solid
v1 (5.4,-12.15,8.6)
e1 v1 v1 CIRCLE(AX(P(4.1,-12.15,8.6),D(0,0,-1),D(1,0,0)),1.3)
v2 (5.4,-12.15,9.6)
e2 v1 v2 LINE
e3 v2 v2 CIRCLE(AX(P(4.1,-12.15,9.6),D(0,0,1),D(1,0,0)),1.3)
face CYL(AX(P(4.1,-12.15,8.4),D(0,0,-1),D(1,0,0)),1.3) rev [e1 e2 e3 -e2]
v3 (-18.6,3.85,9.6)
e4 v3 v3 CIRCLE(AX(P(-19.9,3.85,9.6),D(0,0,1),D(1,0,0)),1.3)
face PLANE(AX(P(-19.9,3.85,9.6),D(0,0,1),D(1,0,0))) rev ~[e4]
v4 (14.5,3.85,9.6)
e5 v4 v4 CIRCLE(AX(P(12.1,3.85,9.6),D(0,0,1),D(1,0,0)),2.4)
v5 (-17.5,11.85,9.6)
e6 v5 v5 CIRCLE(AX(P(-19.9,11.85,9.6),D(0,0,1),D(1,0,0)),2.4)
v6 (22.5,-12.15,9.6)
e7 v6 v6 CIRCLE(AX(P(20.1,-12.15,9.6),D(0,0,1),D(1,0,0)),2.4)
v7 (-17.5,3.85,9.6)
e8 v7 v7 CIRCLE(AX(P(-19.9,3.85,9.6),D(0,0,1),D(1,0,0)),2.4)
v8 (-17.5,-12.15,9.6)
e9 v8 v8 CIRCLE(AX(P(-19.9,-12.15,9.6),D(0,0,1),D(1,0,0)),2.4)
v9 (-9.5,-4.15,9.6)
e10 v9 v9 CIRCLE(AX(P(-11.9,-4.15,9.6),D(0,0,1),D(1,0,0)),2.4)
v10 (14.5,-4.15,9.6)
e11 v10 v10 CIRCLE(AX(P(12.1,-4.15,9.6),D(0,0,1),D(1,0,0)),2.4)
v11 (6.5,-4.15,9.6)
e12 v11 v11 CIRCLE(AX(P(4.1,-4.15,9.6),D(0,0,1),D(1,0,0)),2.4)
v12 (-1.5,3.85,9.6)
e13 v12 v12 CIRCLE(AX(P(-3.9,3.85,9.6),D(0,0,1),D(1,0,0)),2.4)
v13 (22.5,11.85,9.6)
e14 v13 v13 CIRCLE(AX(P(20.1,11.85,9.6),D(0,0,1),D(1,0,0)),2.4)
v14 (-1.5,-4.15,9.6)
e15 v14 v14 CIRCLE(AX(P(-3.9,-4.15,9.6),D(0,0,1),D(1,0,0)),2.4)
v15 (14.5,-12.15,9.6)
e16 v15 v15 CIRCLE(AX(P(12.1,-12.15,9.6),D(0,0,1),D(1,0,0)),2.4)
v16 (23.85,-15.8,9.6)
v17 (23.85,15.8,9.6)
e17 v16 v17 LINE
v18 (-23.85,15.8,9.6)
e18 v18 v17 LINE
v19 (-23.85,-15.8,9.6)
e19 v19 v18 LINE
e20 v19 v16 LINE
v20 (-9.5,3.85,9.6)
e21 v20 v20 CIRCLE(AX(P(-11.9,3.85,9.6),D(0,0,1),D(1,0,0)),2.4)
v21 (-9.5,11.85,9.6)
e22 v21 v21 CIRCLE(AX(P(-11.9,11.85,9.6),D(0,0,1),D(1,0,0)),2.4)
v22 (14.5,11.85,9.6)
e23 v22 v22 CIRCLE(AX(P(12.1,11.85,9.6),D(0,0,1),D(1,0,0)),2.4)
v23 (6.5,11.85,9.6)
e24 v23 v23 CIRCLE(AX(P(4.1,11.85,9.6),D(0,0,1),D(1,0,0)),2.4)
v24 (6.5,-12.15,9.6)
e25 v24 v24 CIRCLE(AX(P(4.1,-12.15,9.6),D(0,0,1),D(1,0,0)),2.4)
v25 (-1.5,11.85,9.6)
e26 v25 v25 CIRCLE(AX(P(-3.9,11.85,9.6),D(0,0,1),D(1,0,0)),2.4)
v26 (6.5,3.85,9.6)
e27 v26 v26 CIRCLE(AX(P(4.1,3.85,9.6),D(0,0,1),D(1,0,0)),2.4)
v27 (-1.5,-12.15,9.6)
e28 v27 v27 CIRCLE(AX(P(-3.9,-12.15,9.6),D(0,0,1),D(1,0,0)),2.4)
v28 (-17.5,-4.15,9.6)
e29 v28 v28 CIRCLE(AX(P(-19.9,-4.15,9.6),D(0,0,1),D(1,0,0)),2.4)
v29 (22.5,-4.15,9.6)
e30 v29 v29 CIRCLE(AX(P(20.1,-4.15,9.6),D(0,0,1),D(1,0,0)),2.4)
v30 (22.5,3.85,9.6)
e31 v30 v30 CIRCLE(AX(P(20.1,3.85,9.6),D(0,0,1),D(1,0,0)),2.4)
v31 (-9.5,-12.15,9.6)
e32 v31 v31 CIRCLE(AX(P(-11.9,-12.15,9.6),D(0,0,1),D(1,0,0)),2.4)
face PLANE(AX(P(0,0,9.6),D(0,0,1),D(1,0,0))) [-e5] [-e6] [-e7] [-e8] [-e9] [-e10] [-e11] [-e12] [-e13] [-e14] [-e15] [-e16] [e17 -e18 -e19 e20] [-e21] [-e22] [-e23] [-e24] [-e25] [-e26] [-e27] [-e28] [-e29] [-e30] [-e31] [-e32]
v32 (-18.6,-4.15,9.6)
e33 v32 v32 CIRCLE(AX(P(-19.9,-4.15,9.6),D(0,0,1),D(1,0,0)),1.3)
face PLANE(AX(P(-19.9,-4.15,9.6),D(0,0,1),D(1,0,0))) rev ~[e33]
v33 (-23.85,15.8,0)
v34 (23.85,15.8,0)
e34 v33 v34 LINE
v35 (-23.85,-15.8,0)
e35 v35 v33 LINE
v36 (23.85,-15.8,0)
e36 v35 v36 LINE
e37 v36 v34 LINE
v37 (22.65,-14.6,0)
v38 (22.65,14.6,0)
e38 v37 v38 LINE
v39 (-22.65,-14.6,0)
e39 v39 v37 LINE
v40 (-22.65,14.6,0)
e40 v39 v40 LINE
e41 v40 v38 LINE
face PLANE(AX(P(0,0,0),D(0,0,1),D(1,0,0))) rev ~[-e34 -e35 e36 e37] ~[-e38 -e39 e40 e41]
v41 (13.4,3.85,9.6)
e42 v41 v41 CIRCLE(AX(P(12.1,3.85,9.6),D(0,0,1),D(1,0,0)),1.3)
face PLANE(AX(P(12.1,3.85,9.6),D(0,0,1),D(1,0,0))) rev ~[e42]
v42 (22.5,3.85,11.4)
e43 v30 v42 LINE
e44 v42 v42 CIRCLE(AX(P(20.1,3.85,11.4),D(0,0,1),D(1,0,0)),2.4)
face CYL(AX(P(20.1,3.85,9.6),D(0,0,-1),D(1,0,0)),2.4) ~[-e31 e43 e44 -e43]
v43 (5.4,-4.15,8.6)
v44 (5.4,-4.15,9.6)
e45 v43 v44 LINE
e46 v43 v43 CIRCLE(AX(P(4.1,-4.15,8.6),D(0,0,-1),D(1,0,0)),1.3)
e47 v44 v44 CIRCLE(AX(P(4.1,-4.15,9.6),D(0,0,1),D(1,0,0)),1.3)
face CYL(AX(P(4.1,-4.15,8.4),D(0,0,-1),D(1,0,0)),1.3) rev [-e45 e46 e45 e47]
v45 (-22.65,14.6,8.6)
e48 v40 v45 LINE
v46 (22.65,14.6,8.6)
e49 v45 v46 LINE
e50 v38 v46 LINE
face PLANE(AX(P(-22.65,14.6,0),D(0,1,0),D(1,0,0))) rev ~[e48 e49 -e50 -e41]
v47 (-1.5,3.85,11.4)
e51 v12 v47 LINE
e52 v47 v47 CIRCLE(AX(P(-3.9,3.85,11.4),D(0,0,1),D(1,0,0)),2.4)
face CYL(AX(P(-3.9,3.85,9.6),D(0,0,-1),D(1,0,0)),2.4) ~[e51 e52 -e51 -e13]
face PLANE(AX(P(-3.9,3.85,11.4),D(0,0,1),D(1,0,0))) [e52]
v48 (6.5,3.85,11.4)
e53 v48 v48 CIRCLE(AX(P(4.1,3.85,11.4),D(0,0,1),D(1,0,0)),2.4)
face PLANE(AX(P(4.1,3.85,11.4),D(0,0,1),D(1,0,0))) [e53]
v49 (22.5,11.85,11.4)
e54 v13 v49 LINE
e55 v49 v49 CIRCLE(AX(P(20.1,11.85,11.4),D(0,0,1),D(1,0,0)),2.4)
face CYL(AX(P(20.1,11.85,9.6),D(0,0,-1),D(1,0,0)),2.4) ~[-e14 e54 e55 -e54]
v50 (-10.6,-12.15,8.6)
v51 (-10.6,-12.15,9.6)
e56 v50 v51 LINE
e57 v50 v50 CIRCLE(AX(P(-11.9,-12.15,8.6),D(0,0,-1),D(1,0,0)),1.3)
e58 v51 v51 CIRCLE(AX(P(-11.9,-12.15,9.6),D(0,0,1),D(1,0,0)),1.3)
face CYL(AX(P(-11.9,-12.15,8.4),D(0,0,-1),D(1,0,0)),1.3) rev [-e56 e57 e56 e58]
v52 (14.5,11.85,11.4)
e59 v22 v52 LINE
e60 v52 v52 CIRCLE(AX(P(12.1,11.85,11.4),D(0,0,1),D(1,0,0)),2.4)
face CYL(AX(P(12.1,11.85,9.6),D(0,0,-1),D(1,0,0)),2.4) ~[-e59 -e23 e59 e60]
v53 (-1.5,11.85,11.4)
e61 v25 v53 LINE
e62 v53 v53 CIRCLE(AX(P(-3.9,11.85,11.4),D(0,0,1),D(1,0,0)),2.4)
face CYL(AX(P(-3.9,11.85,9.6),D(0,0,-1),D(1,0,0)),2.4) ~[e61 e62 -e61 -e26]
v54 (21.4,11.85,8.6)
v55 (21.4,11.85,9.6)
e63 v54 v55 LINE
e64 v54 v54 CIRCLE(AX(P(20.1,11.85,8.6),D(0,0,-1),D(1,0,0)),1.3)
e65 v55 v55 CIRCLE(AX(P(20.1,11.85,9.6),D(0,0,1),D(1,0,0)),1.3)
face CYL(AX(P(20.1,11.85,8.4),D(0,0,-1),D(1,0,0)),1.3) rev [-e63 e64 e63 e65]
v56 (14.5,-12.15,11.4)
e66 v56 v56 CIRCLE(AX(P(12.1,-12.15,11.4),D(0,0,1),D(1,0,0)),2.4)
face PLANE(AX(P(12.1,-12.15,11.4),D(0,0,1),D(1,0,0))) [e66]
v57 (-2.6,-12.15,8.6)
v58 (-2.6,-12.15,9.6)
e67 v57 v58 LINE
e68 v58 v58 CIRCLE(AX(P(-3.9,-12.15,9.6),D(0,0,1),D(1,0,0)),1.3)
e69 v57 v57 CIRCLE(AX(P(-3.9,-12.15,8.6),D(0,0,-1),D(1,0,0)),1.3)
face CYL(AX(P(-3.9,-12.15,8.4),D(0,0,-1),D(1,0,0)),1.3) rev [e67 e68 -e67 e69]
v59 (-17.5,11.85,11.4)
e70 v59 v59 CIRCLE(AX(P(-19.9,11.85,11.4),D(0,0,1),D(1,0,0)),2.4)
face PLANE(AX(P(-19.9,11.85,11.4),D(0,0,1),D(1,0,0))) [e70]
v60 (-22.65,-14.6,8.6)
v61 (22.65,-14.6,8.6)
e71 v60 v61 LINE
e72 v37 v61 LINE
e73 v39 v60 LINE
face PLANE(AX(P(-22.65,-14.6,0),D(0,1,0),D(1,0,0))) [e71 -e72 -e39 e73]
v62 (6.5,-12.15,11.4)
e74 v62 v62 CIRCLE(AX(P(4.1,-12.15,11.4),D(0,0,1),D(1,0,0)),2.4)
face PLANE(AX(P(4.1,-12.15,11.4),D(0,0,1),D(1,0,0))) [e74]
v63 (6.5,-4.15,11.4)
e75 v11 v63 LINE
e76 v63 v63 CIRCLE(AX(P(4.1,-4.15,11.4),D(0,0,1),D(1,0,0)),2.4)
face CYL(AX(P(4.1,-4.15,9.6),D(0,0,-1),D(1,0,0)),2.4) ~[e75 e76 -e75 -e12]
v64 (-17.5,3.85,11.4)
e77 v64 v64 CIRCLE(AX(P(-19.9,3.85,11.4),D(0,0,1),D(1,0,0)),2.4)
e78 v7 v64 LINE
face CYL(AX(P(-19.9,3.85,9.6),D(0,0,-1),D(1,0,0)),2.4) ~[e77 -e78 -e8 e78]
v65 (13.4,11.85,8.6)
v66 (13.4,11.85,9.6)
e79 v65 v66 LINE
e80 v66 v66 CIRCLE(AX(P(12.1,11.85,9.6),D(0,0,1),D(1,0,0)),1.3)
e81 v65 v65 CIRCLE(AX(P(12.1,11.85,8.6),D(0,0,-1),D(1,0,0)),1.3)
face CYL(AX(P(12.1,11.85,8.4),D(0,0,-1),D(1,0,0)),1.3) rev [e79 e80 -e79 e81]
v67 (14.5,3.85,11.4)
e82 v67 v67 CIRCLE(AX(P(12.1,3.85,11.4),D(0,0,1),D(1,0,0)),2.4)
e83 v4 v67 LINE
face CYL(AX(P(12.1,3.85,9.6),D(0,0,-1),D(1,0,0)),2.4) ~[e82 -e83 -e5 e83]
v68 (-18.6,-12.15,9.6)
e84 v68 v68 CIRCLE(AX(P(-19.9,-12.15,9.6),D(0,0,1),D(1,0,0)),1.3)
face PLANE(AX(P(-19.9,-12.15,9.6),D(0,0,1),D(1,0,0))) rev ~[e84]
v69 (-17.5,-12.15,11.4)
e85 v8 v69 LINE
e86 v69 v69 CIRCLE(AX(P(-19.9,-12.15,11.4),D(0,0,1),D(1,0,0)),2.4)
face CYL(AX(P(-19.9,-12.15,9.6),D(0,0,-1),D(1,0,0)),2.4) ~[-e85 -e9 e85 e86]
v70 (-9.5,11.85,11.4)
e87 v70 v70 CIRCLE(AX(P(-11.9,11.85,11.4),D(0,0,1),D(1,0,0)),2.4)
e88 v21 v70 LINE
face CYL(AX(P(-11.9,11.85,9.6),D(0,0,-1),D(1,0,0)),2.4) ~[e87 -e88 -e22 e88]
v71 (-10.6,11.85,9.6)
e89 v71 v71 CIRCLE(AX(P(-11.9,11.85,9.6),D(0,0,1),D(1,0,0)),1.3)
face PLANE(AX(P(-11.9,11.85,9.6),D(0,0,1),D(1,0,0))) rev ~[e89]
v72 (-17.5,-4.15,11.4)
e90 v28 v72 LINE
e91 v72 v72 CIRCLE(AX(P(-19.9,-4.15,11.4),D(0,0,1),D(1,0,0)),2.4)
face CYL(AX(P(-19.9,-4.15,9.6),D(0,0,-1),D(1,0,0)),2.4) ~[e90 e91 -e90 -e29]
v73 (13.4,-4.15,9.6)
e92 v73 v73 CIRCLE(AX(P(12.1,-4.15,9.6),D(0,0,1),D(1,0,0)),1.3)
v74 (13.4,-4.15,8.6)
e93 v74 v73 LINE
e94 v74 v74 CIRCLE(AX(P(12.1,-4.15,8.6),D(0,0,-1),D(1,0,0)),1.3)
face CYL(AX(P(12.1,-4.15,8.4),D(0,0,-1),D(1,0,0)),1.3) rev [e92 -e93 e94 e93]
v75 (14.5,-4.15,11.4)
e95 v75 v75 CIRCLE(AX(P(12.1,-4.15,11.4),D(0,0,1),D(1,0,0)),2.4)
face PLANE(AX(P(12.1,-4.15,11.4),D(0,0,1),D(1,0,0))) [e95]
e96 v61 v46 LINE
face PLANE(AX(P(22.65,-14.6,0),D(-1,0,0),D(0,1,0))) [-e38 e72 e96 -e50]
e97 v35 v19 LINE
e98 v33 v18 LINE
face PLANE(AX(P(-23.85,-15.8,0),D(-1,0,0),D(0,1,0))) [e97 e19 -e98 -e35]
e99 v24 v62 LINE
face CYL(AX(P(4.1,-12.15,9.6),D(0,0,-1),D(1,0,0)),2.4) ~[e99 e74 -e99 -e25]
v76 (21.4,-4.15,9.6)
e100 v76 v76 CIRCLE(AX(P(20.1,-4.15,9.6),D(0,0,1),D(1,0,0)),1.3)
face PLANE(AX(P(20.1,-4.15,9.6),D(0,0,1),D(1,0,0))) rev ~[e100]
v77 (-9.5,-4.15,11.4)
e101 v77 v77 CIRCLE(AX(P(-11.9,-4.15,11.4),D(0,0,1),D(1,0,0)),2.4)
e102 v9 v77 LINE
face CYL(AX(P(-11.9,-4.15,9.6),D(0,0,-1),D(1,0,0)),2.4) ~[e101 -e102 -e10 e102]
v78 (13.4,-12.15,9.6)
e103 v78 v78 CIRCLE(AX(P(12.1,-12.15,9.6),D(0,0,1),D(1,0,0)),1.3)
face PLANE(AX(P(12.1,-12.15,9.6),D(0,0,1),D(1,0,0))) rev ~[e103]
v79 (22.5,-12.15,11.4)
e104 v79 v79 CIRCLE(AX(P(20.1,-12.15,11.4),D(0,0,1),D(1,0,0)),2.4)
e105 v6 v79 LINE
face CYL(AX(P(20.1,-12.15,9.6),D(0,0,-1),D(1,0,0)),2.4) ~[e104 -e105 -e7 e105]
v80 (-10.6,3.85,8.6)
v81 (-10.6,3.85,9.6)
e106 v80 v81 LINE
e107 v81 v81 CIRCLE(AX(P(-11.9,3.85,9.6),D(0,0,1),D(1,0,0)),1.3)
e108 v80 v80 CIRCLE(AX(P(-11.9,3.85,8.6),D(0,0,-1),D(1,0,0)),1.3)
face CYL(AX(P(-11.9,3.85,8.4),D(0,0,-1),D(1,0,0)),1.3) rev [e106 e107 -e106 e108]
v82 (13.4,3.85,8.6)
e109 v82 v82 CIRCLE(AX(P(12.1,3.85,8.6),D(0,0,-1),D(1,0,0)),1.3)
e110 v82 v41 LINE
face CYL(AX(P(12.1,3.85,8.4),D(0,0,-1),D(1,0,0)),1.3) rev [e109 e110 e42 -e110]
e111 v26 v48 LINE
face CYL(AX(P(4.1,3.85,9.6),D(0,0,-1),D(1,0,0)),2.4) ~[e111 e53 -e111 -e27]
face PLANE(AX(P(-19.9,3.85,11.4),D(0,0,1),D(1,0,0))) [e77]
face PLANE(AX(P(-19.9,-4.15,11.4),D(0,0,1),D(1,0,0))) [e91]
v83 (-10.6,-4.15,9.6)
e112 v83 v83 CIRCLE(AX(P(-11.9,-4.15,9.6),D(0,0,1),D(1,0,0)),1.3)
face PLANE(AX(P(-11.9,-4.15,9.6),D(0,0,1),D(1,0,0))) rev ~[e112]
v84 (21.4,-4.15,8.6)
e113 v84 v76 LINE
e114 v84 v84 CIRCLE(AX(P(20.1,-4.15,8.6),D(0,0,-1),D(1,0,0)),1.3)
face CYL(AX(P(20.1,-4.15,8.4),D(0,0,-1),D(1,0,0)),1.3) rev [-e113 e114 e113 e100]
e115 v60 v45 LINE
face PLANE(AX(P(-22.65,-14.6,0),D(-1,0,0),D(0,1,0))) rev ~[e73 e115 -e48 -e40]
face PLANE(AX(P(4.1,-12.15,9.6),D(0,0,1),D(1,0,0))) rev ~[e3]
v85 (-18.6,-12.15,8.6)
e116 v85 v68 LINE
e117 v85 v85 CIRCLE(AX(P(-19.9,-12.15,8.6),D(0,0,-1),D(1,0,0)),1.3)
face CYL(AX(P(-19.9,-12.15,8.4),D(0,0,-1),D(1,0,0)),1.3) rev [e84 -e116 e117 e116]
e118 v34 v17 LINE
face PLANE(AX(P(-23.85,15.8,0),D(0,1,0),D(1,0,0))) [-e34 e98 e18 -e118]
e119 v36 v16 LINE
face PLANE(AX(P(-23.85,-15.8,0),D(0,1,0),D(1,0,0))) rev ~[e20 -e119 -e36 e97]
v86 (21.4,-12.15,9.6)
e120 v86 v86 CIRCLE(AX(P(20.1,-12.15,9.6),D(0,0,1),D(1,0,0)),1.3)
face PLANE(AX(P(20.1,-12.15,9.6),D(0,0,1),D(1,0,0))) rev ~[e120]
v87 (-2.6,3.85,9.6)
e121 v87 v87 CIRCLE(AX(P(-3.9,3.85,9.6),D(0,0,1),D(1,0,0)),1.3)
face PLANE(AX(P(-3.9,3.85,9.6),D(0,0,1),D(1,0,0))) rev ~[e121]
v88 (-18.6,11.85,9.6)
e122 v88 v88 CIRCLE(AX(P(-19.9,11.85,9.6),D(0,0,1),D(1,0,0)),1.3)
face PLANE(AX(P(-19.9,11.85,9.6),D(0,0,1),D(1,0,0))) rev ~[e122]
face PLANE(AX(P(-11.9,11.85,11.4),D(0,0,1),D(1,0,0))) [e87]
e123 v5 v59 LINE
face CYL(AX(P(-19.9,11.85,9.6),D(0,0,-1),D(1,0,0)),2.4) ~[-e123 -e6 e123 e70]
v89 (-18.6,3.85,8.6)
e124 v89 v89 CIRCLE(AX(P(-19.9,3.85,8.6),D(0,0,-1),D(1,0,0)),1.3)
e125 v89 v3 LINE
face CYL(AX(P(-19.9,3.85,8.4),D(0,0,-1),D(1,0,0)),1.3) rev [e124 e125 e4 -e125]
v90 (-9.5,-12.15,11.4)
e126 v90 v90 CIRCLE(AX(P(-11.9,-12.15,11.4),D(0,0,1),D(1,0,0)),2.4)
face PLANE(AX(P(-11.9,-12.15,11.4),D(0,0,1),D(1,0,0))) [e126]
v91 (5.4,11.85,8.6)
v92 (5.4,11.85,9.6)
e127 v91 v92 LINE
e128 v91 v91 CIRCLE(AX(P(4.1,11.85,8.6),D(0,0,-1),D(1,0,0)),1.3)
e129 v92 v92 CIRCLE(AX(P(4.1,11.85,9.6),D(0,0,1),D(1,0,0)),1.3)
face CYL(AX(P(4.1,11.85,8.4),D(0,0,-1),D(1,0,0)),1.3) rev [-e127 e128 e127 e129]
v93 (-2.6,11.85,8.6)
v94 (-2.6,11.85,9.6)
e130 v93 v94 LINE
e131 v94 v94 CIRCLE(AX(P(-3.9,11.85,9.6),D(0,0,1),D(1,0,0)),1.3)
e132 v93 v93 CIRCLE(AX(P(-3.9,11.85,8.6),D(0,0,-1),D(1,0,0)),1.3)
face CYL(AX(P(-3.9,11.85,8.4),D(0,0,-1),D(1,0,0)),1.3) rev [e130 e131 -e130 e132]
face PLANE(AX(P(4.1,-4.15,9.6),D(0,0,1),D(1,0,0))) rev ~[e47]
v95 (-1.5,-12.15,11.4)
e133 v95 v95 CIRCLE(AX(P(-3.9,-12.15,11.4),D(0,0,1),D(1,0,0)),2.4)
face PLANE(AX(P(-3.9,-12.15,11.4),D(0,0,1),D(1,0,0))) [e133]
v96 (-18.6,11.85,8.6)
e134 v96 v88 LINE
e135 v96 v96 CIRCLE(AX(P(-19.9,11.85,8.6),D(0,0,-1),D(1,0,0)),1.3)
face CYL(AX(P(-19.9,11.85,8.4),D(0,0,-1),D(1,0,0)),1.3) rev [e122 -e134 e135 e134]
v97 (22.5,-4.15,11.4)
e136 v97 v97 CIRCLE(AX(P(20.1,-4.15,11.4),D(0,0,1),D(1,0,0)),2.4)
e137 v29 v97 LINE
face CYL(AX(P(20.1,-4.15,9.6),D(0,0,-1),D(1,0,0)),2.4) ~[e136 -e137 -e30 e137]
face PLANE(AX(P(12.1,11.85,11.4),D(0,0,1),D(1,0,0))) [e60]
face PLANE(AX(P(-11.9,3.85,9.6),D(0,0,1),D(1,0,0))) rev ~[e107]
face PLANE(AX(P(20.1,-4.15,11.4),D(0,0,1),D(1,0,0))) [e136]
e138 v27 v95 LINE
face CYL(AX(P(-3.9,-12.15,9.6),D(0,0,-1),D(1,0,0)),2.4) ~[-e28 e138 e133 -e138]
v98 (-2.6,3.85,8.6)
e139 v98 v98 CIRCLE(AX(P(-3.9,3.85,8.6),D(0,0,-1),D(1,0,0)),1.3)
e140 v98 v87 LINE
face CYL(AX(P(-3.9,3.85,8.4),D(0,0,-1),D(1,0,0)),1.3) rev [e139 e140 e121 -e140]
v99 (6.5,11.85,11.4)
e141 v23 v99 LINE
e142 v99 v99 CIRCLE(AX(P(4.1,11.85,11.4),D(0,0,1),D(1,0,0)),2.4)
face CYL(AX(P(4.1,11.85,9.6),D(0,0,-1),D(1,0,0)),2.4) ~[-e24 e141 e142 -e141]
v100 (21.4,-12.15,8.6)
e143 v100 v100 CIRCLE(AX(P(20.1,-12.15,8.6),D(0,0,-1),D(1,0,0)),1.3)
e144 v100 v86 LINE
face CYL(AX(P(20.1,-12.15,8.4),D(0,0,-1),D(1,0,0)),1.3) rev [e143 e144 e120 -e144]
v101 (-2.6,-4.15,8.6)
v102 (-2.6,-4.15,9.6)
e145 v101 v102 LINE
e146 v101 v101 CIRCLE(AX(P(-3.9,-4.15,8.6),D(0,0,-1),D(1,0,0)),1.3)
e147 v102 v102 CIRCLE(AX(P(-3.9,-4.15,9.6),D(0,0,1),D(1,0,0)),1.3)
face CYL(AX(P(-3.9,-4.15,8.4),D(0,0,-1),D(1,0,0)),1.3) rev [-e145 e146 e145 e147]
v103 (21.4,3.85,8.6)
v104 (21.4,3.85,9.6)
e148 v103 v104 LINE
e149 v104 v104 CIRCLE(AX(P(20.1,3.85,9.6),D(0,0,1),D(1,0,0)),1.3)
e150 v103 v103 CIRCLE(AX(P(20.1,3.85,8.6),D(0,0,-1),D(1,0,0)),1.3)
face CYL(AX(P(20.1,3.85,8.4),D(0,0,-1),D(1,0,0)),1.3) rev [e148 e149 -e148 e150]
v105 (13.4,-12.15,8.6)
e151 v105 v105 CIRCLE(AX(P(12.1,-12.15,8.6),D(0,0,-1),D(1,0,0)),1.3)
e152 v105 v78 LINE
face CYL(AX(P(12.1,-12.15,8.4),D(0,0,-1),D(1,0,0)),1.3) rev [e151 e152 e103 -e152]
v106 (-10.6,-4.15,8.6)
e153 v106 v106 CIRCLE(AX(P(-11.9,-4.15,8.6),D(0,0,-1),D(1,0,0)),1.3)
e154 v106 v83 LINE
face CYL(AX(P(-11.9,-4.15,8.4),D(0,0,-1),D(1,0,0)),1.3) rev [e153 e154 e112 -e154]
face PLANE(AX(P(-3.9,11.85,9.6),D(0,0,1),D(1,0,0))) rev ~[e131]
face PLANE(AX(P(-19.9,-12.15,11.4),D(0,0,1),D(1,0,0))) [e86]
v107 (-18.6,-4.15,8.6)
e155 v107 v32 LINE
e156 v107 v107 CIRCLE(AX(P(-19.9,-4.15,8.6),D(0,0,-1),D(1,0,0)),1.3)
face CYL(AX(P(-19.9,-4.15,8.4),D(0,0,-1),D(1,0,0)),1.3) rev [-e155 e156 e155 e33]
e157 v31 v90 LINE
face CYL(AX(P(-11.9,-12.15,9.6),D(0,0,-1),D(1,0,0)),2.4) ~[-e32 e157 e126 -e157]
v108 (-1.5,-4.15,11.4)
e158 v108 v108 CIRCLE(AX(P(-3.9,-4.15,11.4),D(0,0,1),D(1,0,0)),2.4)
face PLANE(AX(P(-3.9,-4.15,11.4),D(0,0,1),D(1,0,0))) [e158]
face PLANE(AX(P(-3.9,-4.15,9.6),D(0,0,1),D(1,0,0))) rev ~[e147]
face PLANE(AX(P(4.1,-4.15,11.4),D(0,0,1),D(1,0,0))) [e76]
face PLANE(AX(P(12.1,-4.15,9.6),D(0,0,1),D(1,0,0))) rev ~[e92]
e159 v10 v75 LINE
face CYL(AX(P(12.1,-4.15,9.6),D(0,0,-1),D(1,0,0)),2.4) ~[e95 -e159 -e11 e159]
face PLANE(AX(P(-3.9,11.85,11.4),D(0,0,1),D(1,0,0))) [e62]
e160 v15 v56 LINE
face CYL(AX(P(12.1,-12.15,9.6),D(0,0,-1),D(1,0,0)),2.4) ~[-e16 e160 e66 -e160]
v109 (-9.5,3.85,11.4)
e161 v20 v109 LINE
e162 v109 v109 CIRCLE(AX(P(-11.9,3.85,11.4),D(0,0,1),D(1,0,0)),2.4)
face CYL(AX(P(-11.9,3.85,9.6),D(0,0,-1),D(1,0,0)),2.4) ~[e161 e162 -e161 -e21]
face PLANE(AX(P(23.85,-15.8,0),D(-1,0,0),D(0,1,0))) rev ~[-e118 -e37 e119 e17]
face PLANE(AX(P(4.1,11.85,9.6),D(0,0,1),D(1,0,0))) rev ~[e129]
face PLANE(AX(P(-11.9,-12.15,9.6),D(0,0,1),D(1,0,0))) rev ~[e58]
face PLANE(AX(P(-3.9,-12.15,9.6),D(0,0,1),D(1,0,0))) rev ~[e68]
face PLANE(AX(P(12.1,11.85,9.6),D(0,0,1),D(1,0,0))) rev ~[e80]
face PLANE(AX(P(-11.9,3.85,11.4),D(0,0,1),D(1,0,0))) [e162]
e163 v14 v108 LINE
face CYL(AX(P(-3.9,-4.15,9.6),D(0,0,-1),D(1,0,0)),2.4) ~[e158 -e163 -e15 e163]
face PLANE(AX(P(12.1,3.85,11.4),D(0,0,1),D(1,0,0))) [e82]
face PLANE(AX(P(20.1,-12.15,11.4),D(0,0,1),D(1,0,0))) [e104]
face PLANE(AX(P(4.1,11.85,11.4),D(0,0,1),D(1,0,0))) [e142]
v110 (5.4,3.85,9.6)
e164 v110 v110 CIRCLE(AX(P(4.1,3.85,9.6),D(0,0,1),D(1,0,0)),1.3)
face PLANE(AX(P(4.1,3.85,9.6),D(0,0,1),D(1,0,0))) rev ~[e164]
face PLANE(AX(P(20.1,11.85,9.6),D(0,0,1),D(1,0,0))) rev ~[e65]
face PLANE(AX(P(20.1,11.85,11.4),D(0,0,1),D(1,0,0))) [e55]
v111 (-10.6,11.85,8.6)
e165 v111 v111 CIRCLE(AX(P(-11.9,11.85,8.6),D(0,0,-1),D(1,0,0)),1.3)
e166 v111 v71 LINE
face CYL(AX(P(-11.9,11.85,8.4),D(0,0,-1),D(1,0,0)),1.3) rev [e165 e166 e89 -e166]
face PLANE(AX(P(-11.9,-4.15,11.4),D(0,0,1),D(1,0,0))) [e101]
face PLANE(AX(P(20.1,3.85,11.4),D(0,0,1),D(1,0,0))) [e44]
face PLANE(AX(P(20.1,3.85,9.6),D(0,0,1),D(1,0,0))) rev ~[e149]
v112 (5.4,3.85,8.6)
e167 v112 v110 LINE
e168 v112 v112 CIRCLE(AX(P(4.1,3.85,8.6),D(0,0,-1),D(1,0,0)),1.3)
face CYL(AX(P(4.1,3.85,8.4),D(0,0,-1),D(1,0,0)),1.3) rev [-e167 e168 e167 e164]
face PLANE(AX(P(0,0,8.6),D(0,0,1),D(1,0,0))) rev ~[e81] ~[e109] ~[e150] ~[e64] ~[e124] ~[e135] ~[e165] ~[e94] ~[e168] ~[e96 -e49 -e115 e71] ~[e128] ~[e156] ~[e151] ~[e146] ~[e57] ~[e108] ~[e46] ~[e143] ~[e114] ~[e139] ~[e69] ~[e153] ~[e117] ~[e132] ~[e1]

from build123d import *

# Parameters (mm, degrees)
F0_W     = 47.7
F0_H     = 31.6
F1_DEPTH = 9.6
F2_W     = 45.3
F2_H     = 29.2
F3_DEPTH = 8.6
F4_R     = 2.4
F5_DEPTH = 1.8
F7_R     = 1.3
F8_DEPTH = 1.2


with BuildPart() as f1:
    # F0 (on Top) → F1 (new body)
    with BuildSketch(Plane.XY):
        Rectangle(F0_W, F0_H)
    extrude(amount=F1_DEPTH)

    # F2 (on face) → F3 (cut)
    with BuildSketch(Plane.XY):
        Rectangle(F2_W, F2_H)
    extrude(amount=F3_DEPTH, mode=Mode.SUBTRACT)

    # F4 (on face) → F5 (join)
    with BuildSketch(Plane.XY.offset(9.6)):
        with Locations((-19.9, 11.85)):
            Circle(F4_R)
        with Locations((-19.9, 3.85)):
            Circle(F4_R)
        with Locations((-19.9, -4.15)):
            Circle(F4_R)
        with Locations((-19.9, -12.15)):
            Circle(F4_R)
        with Locations((-11.9, 11.85)):
            Circle(F4_R)
        with Locations((-11.9, 3.85)):
            Circle(F4_R)
        with Locations((-11.9, -4.15)):
            Circle(F4_R)
        with Locations((-11.9, -12.15)):
            Circle(F4_R)
        with Locations((-3.9, 11.85)):
            Circle(F4_R)
        with Locations((-3.9, 3.85)):
            Circle(F4_R)
        with Locations((-3.9, -4.15)):
            Circle(F4_R)
        with Locations((-3.9, -12.15)):
            Circle(F4_R)
        with Locations((4.1, 11.85)):
            Circle(F4_R)
        with Locations((4.1, 3.85)):
            Circle(F4_R)
        with Locations((4.1, -4.15)):
            Circle(F4_R)
        with Locations((4.1, -12.15)):
            Circle(F4_R)
        with Locations((12.1, 11.85)):
            Circle(F4_R)
        with Locations((12.1, 3.85)):
            Circle(F4_R)
        with Locations((12.1, -4.15)):
            Circle(F4_R)
        with Locations((12.1, -12.15)):
            Circle(F4_R)
        with Locations((20.1, 11.85)):
            Circle(F4_R)
        with Locations((20.1, 3.85)):
            Circle(F4_R)
        with Locations((20.1, -4.15)):
            Circle(F4_R)
        with Locations((20.1, -12.15)):
            Circle(F4_R)
    extrude(amount=F5_DEPTH)

    # F7 (on offset) → F8 (cut)
    with BuildSketch(Plane.XY.offset(8.4)):
        with Locations((-19.9, -12.15)):
            Circle(F7_R)
        with Locations((-19.9, -4.15)):
            Circle(F7_R)
        with Locations((-19.9, 3.85)):
            Circle(F7_R)
        with Locations((-19.9, 11.85)):
            Circle(F7_R)
        with Locations((-11.9, -12.15)):
            Circle(F7_R)
        with Locations((-11.9, -4.15)):
            Circle(F7_R)
        with Locations((-11.9, 3.85)):
            Circle(F7_R)
        with Locations((-11.9, 11.85)):
            Circle(F7_R)
        with Locations((-3.9, -12.15)):
            Circle(F7_R)
        with Locations((-3.9, -4.15)):
            Circle(F7_R)
        with Locations((-3.9, 3.85)):
            Circle(F7_R)
        with Locations((-3.9, 11.85)):
            Circle(F7_R)
        with Locations((4.1, -12.15)):
            Circle(F7_R)
        with Locations((4.1, -4.15)):
            Circle(F7_R)
        with Locations((4.1, 3.85)):
            Circle(F7_R)
        with Locations((4.1, 11.85)):
            Circle(F7_R)
        with Locations((12.1, -12.15)):
            Circle(F7_R)
        with Locations((12.1, -4.15)):
            Circle(F7_R)
        with Locations((12.1, 3.85)):
            Circle(F7_R)
        with Locations((12.1, 11.85)):
            Circle(F7_R)
        with Locations((20.1, -12.15)):
            Circle(F7_R)
        with Locations((20.1, -4.15)):
            Circle(F7_R)
        with Locations((20.1, 3.85)):
            Circle(F7_R)
        with Locations((20.1, 11.85)):
            Circle(F7_R)
    extrude(amount=F8_DEPTH, mode=Mode.SUBTRACT)


solid = f1.part
